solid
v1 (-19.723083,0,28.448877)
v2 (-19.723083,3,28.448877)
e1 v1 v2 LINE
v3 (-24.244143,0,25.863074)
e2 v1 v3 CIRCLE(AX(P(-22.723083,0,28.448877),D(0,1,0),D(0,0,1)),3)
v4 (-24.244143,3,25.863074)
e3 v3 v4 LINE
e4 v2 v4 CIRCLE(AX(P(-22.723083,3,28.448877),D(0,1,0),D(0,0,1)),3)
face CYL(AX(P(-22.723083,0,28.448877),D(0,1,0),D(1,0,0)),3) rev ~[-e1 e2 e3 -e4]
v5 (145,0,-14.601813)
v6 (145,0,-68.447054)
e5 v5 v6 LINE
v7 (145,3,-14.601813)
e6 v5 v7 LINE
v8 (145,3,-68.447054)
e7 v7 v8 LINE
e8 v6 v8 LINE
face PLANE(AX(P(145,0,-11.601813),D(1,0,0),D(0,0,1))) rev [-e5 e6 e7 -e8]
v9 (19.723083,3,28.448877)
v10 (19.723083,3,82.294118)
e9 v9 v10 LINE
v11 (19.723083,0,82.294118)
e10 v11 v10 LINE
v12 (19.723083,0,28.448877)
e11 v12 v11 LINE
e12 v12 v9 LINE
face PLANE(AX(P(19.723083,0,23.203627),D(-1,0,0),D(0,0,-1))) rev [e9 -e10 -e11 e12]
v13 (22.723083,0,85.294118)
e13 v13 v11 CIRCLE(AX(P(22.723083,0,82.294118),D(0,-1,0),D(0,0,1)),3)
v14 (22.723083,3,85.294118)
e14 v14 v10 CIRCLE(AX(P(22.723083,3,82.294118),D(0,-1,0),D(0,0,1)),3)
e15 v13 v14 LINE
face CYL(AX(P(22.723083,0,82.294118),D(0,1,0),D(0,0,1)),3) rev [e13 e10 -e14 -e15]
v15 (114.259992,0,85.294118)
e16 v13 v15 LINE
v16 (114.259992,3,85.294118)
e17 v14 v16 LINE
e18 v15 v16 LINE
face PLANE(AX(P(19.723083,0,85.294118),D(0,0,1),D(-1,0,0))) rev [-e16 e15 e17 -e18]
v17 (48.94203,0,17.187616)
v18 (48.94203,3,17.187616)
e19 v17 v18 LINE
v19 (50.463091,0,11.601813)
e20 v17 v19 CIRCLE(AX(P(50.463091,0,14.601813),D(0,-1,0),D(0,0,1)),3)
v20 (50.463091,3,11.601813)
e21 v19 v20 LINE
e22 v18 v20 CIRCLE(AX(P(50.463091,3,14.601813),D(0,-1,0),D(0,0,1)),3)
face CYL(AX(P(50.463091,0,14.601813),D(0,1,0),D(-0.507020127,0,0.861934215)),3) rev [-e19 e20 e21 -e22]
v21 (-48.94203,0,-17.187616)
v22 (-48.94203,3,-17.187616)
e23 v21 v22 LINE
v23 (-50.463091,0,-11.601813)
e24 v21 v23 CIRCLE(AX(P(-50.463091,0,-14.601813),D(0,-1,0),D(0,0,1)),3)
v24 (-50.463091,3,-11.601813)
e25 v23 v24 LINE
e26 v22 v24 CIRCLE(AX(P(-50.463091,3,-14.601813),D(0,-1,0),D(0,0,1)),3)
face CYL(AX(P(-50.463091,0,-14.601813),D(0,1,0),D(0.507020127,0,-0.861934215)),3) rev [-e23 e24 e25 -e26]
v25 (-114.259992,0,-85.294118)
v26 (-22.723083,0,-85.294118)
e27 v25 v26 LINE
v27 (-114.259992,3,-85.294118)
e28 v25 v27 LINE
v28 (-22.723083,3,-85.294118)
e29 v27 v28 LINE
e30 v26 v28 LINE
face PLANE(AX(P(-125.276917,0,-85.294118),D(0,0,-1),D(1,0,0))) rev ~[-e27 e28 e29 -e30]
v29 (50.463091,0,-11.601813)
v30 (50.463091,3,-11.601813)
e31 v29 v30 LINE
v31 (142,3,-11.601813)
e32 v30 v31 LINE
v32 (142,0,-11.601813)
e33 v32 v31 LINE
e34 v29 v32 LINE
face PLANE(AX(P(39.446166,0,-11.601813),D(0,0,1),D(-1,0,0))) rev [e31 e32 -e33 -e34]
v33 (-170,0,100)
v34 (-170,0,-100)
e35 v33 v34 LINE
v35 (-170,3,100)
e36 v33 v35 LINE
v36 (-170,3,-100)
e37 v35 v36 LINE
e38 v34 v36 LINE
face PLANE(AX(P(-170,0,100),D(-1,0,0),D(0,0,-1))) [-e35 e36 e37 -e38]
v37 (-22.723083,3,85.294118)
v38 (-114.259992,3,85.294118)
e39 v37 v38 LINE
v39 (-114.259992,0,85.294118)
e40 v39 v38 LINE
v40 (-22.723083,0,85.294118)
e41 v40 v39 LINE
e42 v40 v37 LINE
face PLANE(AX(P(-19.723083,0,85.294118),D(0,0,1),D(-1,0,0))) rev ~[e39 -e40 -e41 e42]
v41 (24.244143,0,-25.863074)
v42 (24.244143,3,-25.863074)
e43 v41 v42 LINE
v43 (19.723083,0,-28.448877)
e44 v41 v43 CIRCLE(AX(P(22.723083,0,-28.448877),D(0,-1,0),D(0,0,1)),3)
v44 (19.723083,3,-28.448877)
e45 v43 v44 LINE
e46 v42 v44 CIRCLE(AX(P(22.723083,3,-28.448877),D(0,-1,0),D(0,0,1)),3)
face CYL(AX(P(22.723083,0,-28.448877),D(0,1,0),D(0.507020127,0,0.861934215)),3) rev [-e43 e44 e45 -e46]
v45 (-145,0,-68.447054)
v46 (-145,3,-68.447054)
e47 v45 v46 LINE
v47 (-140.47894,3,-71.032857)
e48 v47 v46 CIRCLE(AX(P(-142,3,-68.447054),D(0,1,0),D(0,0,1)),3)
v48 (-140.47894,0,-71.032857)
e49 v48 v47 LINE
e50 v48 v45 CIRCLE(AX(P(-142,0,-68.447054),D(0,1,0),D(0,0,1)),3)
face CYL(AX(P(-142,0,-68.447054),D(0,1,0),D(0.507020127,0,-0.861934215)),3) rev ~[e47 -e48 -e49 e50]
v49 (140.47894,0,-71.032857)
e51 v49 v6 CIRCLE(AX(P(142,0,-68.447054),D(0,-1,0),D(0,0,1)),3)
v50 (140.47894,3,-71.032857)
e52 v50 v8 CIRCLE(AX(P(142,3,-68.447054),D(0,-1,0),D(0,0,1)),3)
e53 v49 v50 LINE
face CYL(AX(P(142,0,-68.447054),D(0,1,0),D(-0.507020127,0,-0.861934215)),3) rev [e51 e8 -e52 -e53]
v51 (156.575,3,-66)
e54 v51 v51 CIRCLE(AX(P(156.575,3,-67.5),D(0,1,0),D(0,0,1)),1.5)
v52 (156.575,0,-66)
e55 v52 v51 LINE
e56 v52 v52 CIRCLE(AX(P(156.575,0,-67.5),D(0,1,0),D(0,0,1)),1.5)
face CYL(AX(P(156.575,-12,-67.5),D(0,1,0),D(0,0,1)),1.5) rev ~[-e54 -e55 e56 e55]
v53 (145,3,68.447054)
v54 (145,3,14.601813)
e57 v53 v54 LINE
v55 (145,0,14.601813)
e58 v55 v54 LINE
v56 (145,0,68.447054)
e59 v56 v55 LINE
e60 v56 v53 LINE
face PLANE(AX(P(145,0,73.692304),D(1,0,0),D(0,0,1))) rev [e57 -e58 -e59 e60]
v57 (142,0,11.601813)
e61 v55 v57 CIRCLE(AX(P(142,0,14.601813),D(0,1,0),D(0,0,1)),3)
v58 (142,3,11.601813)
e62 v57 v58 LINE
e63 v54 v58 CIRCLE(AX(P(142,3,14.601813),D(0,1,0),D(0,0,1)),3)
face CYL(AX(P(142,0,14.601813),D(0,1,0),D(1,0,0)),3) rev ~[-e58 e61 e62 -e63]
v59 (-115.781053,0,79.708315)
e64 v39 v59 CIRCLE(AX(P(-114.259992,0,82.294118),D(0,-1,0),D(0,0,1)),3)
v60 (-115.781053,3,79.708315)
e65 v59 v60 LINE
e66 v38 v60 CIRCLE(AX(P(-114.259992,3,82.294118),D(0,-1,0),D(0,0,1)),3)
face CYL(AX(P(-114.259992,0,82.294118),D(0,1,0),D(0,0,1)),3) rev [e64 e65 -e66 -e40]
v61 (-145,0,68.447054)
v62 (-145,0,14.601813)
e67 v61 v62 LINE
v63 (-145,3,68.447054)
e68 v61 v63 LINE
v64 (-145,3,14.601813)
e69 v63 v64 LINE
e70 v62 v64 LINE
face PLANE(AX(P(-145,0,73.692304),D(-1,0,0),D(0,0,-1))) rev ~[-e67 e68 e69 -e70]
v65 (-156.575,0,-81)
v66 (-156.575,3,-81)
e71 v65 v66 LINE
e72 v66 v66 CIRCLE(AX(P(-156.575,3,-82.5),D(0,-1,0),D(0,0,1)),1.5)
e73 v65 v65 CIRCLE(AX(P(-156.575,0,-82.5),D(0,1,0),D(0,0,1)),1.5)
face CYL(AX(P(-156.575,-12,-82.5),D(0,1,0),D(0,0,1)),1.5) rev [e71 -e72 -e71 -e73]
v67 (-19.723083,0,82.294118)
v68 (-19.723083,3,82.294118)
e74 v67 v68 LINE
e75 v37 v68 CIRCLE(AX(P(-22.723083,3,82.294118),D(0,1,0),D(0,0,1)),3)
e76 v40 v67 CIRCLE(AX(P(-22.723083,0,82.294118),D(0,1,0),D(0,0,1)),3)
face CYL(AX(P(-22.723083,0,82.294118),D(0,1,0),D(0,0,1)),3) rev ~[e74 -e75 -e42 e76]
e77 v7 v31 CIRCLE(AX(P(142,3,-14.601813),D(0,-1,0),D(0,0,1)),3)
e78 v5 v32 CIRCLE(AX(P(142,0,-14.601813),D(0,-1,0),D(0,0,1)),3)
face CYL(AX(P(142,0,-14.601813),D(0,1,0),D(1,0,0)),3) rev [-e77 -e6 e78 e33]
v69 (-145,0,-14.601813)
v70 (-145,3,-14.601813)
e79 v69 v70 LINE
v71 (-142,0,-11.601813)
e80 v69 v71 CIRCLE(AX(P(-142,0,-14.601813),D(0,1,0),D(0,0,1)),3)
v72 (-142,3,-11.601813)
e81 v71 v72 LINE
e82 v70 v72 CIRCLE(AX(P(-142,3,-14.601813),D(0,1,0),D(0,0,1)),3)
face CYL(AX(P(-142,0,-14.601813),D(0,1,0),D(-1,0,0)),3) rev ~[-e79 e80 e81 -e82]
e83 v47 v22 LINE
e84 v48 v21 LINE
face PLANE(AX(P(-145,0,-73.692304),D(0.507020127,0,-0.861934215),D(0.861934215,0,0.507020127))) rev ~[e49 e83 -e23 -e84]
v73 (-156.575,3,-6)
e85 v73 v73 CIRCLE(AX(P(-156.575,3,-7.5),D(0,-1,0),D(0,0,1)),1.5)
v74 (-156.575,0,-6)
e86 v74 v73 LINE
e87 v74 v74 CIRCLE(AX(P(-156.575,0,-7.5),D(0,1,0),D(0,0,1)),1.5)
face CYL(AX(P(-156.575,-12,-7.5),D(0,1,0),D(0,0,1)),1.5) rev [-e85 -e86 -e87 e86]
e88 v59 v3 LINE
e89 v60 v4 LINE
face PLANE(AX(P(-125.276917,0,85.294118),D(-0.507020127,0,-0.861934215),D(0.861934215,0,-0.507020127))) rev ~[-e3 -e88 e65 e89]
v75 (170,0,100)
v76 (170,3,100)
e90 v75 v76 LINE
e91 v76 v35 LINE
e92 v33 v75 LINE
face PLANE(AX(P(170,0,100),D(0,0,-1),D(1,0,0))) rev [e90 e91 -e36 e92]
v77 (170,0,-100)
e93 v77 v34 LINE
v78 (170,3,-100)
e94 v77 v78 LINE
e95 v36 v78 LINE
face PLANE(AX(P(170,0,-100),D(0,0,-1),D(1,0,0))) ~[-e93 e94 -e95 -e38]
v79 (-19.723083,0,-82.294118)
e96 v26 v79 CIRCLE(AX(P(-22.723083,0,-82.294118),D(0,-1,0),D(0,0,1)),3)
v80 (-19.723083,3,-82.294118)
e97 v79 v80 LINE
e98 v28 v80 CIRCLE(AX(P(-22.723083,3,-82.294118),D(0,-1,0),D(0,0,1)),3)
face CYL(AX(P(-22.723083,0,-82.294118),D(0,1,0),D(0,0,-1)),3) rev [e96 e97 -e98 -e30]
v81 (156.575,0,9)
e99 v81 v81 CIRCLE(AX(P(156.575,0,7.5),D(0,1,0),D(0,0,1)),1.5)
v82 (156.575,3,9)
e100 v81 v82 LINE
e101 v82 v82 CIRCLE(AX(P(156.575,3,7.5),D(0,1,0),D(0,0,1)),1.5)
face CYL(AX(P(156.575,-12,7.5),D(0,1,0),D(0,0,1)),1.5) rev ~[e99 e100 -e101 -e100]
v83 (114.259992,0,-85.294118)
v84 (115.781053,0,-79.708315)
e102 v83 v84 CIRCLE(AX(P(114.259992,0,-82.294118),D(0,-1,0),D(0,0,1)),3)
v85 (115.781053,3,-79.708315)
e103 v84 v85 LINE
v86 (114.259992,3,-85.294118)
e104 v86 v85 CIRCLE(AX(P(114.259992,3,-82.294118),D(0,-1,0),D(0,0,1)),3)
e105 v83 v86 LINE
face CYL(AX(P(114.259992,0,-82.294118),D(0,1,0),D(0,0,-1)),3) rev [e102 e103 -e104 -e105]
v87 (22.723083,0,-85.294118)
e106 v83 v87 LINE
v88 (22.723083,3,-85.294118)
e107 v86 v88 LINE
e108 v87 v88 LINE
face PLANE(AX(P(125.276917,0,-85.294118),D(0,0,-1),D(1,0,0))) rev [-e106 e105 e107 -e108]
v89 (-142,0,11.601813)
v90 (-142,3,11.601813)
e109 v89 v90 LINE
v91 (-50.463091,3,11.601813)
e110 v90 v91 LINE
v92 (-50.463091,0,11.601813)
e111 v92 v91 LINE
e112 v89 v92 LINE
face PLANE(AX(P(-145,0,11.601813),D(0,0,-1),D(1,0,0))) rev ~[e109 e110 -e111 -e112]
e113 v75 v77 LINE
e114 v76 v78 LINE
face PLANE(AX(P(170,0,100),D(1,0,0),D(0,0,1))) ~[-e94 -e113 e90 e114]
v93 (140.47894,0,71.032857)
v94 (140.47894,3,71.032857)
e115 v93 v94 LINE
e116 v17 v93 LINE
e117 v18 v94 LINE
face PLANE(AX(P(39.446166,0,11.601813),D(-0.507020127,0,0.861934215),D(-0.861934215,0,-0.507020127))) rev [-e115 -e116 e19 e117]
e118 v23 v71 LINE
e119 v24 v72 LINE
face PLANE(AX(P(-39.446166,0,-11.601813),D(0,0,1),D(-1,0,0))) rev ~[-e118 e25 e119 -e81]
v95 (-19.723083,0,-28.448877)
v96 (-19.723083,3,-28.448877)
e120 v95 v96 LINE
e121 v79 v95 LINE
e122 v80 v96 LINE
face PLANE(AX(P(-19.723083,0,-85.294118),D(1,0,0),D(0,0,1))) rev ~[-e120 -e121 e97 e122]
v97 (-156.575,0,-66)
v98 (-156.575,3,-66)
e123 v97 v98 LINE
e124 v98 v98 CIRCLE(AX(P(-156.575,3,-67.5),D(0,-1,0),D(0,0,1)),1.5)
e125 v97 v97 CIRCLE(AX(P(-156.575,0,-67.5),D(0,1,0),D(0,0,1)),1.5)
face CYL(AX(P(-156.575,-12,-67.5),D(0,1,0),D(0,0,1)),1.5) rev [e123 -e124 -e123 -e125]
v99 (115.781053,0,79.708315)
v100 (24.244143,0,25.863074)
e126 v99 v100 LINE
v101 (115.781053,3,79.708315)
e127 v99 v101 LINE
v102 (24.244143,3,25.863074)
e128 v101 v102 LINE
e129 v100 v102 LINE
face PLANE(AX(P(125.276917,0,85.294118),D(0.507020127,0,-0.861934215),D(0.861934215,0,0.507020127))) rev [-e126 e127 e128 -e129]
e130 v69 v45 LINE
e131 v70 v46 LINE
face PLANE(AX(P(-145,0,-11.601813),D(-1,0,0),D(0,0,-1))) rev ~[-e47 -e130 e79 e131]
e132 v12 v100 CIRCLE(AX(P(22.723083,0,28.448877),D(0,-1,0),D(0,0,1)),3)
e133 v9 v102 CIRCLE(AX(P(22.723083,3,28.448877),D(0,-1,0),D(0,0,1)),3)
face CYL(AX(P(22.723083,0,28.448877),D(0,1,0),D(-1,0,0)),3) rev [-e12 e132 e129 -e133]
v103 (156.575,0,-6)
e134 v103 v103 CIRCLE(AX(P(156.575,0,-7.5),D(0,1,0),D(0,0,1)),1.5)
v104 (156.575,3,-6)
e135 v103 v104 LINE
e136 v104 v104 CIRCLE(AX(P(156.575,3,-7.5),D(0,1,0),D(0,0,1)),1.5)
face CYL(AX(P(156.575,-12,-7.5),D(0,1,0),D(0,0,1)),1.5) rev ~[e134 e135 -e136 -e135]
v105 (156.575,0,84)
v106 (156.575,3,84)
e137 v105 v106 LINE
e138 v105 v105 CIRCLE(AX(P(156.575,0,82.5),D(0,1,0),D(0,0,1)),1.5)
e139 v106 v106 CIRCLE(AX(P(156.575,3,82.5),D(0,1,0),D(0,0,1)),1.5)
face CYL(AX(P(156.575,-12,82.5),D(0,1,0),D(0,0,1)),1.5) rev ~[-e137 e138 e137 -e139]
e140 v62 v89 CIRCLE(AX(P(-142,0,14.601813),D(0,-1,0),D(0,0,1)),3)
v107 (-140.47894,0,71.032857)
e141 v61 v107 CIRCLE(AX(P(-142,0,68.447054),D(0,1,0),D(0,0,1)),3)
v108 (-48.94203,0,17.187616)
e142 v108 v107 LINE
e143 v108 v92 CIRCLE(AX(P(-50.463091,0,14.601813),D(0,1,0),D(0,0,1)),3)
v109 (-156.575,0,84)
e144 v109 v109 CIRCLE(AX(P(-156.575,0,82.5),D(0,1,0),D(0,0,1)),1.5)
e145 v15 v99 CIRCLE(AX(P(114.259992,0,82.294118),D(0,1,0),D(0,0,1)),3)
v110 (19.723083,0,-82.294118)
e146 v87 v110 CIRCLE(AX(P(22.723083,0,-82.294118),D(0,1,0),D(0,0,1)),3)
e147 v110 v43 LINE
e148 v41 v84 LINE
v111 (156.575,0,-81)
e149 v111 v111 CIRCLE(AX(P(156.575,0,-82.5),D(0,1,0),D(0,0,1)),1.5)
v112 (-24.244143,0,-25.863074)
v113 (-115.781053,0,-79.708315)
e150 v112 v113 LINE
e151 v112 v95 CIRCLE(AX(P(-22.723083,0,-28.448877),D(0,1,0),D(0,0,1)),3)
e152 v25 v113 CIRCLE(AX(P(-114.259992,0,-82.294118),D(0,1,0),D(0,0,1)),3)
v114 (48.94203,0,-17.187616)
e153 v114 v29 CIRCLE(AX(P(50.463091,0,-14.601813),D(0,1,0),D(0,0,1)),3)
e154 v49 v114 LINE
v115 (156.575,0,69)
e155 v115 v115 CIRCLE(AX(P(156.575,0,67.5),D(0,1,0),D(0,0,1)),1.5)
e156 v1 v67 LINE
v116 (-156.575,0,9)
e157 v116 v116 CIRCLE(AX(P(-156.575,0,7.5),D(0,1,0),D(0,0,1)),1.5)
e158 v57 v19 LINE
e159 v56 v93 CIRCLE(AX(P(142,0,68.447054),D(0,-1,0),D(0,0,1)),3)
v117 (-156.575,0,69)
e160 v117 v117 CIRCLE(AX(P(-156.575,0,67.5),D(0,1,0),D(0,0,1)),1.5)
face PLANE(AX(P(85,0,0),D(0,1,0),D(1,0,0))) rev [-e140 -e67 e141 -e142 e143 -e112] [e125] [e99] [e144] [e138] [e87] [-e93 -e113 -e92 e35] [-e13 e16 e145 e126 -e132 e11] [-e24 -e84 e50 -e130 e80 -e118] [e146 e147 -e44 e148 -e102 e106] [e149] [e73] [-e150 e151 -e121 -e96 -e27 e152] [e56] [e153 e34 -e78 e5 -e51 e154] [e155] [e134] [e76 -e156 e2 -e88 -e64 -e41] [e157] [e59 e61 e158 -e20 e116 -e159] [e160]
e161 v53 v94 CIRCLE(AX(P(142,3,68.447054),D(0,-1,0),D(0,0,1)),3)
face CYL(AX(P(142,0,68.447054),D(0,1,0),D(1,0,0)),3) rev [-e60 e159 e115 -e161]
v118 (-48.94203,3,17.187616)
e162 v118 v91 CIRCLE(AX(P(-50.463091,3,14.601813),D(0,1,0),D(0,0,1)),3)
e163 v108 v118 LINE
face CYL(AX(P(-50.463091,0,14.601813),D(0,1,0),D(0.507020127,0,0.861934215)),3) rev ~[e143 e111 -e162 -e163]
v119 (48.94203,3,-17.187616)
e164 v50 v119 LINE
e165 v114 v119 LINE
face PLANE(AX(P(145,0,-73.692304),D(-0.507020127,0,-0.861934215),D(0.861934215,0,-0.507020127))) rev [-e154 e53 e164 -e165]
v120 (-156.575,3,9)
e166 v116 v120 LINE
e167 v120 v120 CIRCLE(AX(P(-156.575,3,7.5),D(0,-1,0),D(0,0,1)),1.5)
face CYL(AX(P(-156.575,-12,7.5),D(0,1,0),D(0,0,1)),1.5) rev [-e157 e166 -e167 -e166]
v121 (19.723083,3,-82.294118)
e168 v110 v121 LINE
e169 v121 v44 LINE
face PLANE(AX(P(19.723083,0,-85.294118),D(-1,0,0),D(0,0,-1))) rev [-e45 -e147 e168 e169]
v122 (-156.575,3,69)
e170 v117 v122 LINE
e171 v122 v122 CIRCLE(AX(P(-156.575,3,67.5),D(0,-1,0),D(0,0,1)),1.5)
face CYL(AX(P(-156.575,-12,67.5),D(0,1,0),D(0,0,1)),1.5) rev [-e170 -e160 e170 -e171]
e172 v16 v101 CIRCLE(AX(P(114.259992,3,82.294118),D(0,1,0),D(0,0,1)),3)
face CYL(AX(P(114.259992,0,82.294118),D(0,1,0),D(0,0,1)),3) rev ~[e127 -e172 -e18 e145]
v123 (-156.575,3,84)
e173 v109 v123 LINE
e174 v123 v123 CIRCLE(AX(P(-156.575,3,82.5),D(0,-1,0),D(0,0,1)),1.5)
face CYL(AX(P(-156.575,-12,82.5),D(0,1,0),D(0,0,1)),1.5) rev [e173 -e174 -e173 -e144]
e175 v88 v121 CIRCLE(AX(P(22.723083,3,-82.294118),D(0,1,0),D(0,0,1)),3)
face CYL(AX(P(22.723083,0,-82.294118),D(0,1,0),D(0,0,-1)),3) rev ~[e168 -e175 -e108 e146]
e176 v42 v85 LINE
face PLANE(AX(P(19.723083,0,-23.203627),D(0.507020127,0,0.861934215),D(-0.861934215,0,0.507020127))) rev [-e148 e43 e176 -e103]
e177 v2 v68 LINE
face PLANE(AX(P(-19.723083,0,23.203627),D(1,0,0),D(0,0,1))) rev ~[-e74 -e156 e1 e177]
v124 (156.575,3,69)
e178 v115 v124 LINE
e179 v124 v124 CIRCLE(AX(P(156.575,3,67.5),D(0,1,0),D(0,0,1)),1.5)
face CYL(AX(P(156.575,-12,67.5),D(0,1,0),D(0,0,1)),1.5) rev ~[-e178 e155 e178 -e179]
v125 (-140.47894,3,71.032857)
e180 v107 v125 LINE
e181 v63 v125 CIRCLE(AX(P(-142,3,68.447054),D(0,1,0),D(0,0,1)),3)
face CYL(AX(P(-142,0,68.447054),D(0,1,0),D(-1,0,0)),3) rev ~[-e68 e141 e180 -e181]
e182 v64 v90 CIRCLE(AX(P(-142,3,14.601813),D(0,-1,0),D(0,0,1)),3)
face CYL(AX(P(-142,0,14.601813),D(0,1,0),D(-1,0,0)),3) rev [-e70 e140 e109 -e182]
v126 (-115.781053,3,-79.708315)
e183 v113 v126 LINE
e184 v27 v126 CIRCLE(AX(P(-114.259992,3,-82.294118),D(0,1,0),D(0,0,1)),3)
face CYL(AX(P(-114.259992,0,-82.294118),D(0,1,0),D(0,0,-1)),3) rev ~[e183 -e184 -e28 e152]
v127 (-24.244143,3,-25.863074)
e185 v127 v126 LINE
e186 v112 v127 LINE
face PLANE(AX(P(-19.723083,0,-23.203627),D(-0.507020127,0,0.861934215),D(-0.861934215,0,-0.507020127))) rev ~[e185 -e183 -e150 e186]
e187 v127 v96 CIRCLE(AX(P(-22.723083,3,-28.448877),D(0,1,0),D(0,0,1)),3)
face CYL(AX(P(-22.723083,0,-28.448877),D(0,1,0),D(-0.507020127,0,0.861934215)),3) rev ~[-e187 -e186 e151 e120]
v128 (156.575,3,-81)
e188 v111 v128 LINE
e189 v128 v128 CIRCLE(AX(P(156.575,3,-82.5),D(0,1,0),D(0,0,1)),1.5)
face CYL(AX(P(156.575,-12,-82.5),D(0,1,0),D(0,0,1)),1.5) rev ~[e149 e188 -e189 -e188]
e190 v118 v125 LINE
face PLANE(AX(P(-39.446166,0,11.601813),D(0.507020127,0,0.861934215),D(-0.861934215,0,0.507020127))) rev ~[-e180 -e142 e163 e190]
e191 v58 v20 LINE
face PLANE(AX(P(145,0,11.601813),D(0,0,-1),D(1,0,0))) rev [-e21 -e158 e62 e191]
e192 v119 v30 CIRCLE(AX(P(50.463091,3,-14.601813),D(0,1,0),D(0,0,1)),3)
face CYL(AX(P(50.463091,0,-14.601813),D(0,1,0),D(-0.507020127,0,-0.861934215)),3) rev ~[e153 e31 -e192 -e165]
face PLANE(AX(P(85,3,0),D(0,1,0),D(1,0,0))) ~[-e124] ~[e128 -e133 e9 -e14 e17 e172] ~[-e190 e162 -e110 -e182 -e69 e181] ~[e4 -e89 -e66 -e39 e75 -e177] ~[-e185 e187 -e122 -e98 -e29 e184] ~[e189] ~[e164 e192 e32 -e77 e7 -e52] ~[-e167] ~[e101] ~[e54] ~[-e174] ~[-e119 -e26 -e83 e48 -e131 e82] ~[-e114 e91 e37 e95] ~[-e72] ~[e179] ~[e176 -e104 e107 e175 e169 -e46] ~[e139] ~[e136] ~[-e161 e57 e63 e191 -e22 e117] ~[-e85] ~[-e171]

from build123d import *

# Parameters (mm, degrees)
SKETCH1_W                      = 170
SKETCH1_H                      = 200
BOSS_EXTRUDE1_DEPTH            = 3
FILLET1_R                      = 3
F_3_0MM_DOWEL_HOLE1_AT_2_COUNT = 2
F_3_0MM_DOWEL_HOLE1_AT_2_PITCH = 15
F_3_0MM_DOWEL_HOLE1_AT_3_COUNT = 2
F_3_0MM_DOWEL_HOLE1_AT_3_PITCH = 75
F_3_0MM_DOWEL_HOLE1_AT_4_COUNT = 2
F_3_0MM_DOWEL_HOLE1_AT_4_PITCH = 90
F_3_0MM_DOWEL_HOLE1_AT_5_COUNT = 2
F_3_0MM_DOWEL_HOLE1_AT_5_PITCH = 60
F_3_0MM_DOWEL_HOLE1_AT_6_COUNT = 2
F_3_0MM_DOWEL_HOLE1_AT_6_PITCH = 75
FILLET1_OF_MIRROR1_R           = 3


with BuildPart() as part:
    # Sketch1 → Boss-Extrude1 (new body)
    with BuildSketch(Plane(origin=(0, 0, 0), x_dir=(1, 0, 0), z_dir=(0, 1, 0))):
        with Locations((-85, 0)):
            Rectangle(SKETCH1_W, SKETCH1_H)
        Polygon((-19.723082923, 85.294117647), (-19.723082923, 23.203626969), (-125.276917077, 85.294117647), align=None, mode=Mode.SUBTRACT)
        Polygon((-39.446165847, 11.601813484), (-145, 11.601813484), (-145, 73.692304163), align=None, mode=Mode.SUBTRACT)
        Polygon((-125.276917077, -85.294117647), (-19.723082923, -23.203626969), (-19.723082923, -85.294117647), align=None, mode=Mode.SUBTRACT)
        Polygon((-145, -11.601813484), (-39.446165847, -11.601813484), (-145, -73.692304163), align=None, mode=Mode.SUBTRACT)
    boss_extrude1 = extrude(amount=BOSS_EXTRUDE1_DEPTH)

    # Fillet1
    fillet1_edges = [part.edges().sort_by_distance(p)[0] for p in [
        (-19.723082923, 1.5, -23.203626969),
        (-19.723082923, 1.5, -85.294117647),
        (-125.276917077, 1.5, -85.294117647),
        (-39.446165847, 1.5, -11.601813484),
        (-145, 1.5, -73.692304163),
        (-145, 1.5, -11.601813484),
        (-39.446165847, 1.5, 11.601813484),
        (-145, 1.5, 11.601813484),
        (-145, 1.5, 73.692304163),
        (-19.723082923, 1.5, 23.203626969),
        (-125.276917077, 1.5, 85.294117647),
        (-19.723082923, 1.5, 85.294117647),
    ]]
    fillet(fillet1_edges, radius=FILLET1_R)

    # Sketch2 → Ø3.0mm Dowel Hole1 (revolve, cut)
    with BuildSketch(Plane(origin=(-156.575, 3, -7.5), x_dir=(0, 0, 1), z_dir=(1, 0, 0))):
        Polygon((0, 0), (0, 15.901290929), (1.5, 15), (1.5, 0), align=None)
    f_3_0mm_dowel_hole1 = revolve(axis=Axis((-156.575, 9.35, -7.5), (0, -1, 0)), mode=Mode.SUBTRACT)

    # Ø3.0mm Dowel Hole1 at 2: Ø3.0mm Dowel Hole1 ×2
    with Locations(*[(0, 0, i * F_3_0MM_DOWEL_HOLE1_AT_2_PITCH) for i in range(1, F_3_0MM_DOWEL_HOLE1_AT_2_COUNT)]):
        add(f_3_0mm_dowel_hole1, mode=Mode.SUBTRACT)

    # Ø3.0mm Dowel Hole1 at 3: Ø3.0mm Dowel Hole1 ×2
    with Locations(*[(0, 0, i * F_3_0MM_DOWEL_HOLE1_AT_3_PITCH) for i in range(1, F_3_0MM_DOWEL_HOLE1_AT_3_COUNT)]):
        add(f_3_0mm_dowel_hole1, mode=Mode.SUBTRACT)

    # Ø3.0mm Dowel Hole1 at 4: Ø3.0mm Dowel Hole1 ×2
    with Locations(*[(0, 0, i * F_3_0MM_DOWEL_HOLE1_AT_4_PITCH) for i in range(1, F_3_0MM_DOWEL_HOLE1_AT_4_COUNT)]):
        add(f_3_0mm_dowel_hole1, mode=Mode.SUBTRACT)

    # Ø3.0mm Dowel Hole1 at 5: Ø3.0mm Dowel Hole1 ×2
    with Locations(*[(0, 0, -i * F_3_0MM_DOWEL_HOLE1_AT_5_PITCH) for i in range(1, F_3_0MM_DOWEL_HOLE1_AT_5_COUNT)]):
        add(f_3_0mm_dowel_hole1, mode=Mode.SUBTRACT)

    # Ø3.0mm Dowel Hole1 at 6: Ø3.0mm Dowel Hole1 ×2
    with Locations(*[(0, 0, -i * F_3_0MM_DOWEL_HOLE1_AT_6_PITCH) for i in range(1, F_3_0MM_DOWEL_HOLE1_AT_6_COUNT)]):
        add(f_3_0mm_dowel_hole1, mode=Mode.SUBTRACT)

    # Mirror1: Boss-Extrude1, Ø3.0mm Dowel Hole1 across plane
    add(boss_extrude1.mirror(Plane(origin=(0, 0, 0), x_dir=(0, 0, 1), z_dir=(1, 0, 0))))
    add(f_3_0mm_dowel_hole1.mirror(Plane(origin=(0, 0, 0), x_dir=(0, 0, 1), z_dir=(1, 0, 0))), mode=Mode.SUBTRACT)

    # Mirror1 copy 1 sketch → Mirror1 copy 1 (revolve, cut)
    with BuildSketch(Plane(origin=(156.575, 3, 7.5), x_dir=(0, 0, 1), z_dir=(-1, 0, 0))):
        Polygon((0, 0), (0, -15.901290929), (1.5, -15), (1.5, 0), align=None)
    revolve(axis=Axis((156.575, 9.35, 7.5), (0, 1, 0)), mode=Mode.SUBTRACT)

    # Mirror1 copy 2 sketch → Mirror1 copy 2 (revolve, cut)
    with BuildSketch(Plane(origin=(156.575, 3, 67.5), x_dir=(0, 0, 1), z_dir=(-1, 0, 0))):
        Polygon((0, 0), (0, -15.901290929), (1.5, -15), (1.5, 0), align=None)
    revolve(axis=Axis((156.575, 9.35, 67.5), (0, 1, 0)), mode=Mode.SUBTRACT)

    # Mirror1 copy 3 sketch → Mirror1 copy 3 (revolve, cut)
    with BuildSketch(Plane(origin=(156.575, 3, 82.5), x_dir=(0, 0, 1), z_dir=(-1, 0, 0))):
        Polygon((0, 0), (0, -15.901290929), (1.5, -15), (1.5, 0), align=None)
    revolve(axis=Axis((156.575, 9.35, 82.5), (0, 1, 0)), mode=Mode.SUBTRACT)

    # Mirror1 copy 4 sketch → Mirror1 copy 4 (revolve, cut)
    with BuildSketch(Plane(origin=(156.575, 3, -67.5), x_dir=(0, 0, 1), z_dir=(-1, 0, 0))):
        Polygon((0, 0), (0, -15.901290929), (1.5, -15), (1.5, 0), align=None)
    revolve(axis=Axis((156.575, 9.35, -67.5), (0, 1, 0)), mode=Mode.SUBTRACT)

    # Mirror1 copy 5 sketch → Mirror1 copy 5 (revolve, cut)
    with BuildSketch(Plane(origin=(156.575, 3, -82.5), x_dir=(0, 0, 1), z_dir=(-1, 0, 0))):
        Polygon((0, 0), (0, -15.901290929), (1.5, -15), (1.5, 0), align=None)
    revolve(axis=Axis((156.575, 9.35, -82.5), (0, 1, 0)), mode=Mode.SUBTRACT)

    # Fillet1 of Mirror1
    fillet1_of_mirror1_edges = [part.edges().sort_by_distance(p)[0] for p in [
        (19.723082923, 1.5, -23.203626969),
        (19.723082923, 1.5, -85.294117647),
        (125.276917077, 1.5, -85.294117647),
        (39.446165847, 1.5, -11.601813484),
        (145, 1.5, -73.692304163),
        (145, 1.5, -11.601813484),
        (39.446165847, 1.5, 11.601813484),
        (145, 1.5, 11.601813484),
        (145, 1.5, 73.692304163),
        (19.723082923, 1.5, 23.203626969),
        (125.276917077, 1.5, 85.294117647),
        (19.723082923, 1.5, 85.294117647),
    ]]
    fillet(fillet1_of_mirror1_edges, radius=FILLET1_OF_MIRROR1_R)


solid = part.part
